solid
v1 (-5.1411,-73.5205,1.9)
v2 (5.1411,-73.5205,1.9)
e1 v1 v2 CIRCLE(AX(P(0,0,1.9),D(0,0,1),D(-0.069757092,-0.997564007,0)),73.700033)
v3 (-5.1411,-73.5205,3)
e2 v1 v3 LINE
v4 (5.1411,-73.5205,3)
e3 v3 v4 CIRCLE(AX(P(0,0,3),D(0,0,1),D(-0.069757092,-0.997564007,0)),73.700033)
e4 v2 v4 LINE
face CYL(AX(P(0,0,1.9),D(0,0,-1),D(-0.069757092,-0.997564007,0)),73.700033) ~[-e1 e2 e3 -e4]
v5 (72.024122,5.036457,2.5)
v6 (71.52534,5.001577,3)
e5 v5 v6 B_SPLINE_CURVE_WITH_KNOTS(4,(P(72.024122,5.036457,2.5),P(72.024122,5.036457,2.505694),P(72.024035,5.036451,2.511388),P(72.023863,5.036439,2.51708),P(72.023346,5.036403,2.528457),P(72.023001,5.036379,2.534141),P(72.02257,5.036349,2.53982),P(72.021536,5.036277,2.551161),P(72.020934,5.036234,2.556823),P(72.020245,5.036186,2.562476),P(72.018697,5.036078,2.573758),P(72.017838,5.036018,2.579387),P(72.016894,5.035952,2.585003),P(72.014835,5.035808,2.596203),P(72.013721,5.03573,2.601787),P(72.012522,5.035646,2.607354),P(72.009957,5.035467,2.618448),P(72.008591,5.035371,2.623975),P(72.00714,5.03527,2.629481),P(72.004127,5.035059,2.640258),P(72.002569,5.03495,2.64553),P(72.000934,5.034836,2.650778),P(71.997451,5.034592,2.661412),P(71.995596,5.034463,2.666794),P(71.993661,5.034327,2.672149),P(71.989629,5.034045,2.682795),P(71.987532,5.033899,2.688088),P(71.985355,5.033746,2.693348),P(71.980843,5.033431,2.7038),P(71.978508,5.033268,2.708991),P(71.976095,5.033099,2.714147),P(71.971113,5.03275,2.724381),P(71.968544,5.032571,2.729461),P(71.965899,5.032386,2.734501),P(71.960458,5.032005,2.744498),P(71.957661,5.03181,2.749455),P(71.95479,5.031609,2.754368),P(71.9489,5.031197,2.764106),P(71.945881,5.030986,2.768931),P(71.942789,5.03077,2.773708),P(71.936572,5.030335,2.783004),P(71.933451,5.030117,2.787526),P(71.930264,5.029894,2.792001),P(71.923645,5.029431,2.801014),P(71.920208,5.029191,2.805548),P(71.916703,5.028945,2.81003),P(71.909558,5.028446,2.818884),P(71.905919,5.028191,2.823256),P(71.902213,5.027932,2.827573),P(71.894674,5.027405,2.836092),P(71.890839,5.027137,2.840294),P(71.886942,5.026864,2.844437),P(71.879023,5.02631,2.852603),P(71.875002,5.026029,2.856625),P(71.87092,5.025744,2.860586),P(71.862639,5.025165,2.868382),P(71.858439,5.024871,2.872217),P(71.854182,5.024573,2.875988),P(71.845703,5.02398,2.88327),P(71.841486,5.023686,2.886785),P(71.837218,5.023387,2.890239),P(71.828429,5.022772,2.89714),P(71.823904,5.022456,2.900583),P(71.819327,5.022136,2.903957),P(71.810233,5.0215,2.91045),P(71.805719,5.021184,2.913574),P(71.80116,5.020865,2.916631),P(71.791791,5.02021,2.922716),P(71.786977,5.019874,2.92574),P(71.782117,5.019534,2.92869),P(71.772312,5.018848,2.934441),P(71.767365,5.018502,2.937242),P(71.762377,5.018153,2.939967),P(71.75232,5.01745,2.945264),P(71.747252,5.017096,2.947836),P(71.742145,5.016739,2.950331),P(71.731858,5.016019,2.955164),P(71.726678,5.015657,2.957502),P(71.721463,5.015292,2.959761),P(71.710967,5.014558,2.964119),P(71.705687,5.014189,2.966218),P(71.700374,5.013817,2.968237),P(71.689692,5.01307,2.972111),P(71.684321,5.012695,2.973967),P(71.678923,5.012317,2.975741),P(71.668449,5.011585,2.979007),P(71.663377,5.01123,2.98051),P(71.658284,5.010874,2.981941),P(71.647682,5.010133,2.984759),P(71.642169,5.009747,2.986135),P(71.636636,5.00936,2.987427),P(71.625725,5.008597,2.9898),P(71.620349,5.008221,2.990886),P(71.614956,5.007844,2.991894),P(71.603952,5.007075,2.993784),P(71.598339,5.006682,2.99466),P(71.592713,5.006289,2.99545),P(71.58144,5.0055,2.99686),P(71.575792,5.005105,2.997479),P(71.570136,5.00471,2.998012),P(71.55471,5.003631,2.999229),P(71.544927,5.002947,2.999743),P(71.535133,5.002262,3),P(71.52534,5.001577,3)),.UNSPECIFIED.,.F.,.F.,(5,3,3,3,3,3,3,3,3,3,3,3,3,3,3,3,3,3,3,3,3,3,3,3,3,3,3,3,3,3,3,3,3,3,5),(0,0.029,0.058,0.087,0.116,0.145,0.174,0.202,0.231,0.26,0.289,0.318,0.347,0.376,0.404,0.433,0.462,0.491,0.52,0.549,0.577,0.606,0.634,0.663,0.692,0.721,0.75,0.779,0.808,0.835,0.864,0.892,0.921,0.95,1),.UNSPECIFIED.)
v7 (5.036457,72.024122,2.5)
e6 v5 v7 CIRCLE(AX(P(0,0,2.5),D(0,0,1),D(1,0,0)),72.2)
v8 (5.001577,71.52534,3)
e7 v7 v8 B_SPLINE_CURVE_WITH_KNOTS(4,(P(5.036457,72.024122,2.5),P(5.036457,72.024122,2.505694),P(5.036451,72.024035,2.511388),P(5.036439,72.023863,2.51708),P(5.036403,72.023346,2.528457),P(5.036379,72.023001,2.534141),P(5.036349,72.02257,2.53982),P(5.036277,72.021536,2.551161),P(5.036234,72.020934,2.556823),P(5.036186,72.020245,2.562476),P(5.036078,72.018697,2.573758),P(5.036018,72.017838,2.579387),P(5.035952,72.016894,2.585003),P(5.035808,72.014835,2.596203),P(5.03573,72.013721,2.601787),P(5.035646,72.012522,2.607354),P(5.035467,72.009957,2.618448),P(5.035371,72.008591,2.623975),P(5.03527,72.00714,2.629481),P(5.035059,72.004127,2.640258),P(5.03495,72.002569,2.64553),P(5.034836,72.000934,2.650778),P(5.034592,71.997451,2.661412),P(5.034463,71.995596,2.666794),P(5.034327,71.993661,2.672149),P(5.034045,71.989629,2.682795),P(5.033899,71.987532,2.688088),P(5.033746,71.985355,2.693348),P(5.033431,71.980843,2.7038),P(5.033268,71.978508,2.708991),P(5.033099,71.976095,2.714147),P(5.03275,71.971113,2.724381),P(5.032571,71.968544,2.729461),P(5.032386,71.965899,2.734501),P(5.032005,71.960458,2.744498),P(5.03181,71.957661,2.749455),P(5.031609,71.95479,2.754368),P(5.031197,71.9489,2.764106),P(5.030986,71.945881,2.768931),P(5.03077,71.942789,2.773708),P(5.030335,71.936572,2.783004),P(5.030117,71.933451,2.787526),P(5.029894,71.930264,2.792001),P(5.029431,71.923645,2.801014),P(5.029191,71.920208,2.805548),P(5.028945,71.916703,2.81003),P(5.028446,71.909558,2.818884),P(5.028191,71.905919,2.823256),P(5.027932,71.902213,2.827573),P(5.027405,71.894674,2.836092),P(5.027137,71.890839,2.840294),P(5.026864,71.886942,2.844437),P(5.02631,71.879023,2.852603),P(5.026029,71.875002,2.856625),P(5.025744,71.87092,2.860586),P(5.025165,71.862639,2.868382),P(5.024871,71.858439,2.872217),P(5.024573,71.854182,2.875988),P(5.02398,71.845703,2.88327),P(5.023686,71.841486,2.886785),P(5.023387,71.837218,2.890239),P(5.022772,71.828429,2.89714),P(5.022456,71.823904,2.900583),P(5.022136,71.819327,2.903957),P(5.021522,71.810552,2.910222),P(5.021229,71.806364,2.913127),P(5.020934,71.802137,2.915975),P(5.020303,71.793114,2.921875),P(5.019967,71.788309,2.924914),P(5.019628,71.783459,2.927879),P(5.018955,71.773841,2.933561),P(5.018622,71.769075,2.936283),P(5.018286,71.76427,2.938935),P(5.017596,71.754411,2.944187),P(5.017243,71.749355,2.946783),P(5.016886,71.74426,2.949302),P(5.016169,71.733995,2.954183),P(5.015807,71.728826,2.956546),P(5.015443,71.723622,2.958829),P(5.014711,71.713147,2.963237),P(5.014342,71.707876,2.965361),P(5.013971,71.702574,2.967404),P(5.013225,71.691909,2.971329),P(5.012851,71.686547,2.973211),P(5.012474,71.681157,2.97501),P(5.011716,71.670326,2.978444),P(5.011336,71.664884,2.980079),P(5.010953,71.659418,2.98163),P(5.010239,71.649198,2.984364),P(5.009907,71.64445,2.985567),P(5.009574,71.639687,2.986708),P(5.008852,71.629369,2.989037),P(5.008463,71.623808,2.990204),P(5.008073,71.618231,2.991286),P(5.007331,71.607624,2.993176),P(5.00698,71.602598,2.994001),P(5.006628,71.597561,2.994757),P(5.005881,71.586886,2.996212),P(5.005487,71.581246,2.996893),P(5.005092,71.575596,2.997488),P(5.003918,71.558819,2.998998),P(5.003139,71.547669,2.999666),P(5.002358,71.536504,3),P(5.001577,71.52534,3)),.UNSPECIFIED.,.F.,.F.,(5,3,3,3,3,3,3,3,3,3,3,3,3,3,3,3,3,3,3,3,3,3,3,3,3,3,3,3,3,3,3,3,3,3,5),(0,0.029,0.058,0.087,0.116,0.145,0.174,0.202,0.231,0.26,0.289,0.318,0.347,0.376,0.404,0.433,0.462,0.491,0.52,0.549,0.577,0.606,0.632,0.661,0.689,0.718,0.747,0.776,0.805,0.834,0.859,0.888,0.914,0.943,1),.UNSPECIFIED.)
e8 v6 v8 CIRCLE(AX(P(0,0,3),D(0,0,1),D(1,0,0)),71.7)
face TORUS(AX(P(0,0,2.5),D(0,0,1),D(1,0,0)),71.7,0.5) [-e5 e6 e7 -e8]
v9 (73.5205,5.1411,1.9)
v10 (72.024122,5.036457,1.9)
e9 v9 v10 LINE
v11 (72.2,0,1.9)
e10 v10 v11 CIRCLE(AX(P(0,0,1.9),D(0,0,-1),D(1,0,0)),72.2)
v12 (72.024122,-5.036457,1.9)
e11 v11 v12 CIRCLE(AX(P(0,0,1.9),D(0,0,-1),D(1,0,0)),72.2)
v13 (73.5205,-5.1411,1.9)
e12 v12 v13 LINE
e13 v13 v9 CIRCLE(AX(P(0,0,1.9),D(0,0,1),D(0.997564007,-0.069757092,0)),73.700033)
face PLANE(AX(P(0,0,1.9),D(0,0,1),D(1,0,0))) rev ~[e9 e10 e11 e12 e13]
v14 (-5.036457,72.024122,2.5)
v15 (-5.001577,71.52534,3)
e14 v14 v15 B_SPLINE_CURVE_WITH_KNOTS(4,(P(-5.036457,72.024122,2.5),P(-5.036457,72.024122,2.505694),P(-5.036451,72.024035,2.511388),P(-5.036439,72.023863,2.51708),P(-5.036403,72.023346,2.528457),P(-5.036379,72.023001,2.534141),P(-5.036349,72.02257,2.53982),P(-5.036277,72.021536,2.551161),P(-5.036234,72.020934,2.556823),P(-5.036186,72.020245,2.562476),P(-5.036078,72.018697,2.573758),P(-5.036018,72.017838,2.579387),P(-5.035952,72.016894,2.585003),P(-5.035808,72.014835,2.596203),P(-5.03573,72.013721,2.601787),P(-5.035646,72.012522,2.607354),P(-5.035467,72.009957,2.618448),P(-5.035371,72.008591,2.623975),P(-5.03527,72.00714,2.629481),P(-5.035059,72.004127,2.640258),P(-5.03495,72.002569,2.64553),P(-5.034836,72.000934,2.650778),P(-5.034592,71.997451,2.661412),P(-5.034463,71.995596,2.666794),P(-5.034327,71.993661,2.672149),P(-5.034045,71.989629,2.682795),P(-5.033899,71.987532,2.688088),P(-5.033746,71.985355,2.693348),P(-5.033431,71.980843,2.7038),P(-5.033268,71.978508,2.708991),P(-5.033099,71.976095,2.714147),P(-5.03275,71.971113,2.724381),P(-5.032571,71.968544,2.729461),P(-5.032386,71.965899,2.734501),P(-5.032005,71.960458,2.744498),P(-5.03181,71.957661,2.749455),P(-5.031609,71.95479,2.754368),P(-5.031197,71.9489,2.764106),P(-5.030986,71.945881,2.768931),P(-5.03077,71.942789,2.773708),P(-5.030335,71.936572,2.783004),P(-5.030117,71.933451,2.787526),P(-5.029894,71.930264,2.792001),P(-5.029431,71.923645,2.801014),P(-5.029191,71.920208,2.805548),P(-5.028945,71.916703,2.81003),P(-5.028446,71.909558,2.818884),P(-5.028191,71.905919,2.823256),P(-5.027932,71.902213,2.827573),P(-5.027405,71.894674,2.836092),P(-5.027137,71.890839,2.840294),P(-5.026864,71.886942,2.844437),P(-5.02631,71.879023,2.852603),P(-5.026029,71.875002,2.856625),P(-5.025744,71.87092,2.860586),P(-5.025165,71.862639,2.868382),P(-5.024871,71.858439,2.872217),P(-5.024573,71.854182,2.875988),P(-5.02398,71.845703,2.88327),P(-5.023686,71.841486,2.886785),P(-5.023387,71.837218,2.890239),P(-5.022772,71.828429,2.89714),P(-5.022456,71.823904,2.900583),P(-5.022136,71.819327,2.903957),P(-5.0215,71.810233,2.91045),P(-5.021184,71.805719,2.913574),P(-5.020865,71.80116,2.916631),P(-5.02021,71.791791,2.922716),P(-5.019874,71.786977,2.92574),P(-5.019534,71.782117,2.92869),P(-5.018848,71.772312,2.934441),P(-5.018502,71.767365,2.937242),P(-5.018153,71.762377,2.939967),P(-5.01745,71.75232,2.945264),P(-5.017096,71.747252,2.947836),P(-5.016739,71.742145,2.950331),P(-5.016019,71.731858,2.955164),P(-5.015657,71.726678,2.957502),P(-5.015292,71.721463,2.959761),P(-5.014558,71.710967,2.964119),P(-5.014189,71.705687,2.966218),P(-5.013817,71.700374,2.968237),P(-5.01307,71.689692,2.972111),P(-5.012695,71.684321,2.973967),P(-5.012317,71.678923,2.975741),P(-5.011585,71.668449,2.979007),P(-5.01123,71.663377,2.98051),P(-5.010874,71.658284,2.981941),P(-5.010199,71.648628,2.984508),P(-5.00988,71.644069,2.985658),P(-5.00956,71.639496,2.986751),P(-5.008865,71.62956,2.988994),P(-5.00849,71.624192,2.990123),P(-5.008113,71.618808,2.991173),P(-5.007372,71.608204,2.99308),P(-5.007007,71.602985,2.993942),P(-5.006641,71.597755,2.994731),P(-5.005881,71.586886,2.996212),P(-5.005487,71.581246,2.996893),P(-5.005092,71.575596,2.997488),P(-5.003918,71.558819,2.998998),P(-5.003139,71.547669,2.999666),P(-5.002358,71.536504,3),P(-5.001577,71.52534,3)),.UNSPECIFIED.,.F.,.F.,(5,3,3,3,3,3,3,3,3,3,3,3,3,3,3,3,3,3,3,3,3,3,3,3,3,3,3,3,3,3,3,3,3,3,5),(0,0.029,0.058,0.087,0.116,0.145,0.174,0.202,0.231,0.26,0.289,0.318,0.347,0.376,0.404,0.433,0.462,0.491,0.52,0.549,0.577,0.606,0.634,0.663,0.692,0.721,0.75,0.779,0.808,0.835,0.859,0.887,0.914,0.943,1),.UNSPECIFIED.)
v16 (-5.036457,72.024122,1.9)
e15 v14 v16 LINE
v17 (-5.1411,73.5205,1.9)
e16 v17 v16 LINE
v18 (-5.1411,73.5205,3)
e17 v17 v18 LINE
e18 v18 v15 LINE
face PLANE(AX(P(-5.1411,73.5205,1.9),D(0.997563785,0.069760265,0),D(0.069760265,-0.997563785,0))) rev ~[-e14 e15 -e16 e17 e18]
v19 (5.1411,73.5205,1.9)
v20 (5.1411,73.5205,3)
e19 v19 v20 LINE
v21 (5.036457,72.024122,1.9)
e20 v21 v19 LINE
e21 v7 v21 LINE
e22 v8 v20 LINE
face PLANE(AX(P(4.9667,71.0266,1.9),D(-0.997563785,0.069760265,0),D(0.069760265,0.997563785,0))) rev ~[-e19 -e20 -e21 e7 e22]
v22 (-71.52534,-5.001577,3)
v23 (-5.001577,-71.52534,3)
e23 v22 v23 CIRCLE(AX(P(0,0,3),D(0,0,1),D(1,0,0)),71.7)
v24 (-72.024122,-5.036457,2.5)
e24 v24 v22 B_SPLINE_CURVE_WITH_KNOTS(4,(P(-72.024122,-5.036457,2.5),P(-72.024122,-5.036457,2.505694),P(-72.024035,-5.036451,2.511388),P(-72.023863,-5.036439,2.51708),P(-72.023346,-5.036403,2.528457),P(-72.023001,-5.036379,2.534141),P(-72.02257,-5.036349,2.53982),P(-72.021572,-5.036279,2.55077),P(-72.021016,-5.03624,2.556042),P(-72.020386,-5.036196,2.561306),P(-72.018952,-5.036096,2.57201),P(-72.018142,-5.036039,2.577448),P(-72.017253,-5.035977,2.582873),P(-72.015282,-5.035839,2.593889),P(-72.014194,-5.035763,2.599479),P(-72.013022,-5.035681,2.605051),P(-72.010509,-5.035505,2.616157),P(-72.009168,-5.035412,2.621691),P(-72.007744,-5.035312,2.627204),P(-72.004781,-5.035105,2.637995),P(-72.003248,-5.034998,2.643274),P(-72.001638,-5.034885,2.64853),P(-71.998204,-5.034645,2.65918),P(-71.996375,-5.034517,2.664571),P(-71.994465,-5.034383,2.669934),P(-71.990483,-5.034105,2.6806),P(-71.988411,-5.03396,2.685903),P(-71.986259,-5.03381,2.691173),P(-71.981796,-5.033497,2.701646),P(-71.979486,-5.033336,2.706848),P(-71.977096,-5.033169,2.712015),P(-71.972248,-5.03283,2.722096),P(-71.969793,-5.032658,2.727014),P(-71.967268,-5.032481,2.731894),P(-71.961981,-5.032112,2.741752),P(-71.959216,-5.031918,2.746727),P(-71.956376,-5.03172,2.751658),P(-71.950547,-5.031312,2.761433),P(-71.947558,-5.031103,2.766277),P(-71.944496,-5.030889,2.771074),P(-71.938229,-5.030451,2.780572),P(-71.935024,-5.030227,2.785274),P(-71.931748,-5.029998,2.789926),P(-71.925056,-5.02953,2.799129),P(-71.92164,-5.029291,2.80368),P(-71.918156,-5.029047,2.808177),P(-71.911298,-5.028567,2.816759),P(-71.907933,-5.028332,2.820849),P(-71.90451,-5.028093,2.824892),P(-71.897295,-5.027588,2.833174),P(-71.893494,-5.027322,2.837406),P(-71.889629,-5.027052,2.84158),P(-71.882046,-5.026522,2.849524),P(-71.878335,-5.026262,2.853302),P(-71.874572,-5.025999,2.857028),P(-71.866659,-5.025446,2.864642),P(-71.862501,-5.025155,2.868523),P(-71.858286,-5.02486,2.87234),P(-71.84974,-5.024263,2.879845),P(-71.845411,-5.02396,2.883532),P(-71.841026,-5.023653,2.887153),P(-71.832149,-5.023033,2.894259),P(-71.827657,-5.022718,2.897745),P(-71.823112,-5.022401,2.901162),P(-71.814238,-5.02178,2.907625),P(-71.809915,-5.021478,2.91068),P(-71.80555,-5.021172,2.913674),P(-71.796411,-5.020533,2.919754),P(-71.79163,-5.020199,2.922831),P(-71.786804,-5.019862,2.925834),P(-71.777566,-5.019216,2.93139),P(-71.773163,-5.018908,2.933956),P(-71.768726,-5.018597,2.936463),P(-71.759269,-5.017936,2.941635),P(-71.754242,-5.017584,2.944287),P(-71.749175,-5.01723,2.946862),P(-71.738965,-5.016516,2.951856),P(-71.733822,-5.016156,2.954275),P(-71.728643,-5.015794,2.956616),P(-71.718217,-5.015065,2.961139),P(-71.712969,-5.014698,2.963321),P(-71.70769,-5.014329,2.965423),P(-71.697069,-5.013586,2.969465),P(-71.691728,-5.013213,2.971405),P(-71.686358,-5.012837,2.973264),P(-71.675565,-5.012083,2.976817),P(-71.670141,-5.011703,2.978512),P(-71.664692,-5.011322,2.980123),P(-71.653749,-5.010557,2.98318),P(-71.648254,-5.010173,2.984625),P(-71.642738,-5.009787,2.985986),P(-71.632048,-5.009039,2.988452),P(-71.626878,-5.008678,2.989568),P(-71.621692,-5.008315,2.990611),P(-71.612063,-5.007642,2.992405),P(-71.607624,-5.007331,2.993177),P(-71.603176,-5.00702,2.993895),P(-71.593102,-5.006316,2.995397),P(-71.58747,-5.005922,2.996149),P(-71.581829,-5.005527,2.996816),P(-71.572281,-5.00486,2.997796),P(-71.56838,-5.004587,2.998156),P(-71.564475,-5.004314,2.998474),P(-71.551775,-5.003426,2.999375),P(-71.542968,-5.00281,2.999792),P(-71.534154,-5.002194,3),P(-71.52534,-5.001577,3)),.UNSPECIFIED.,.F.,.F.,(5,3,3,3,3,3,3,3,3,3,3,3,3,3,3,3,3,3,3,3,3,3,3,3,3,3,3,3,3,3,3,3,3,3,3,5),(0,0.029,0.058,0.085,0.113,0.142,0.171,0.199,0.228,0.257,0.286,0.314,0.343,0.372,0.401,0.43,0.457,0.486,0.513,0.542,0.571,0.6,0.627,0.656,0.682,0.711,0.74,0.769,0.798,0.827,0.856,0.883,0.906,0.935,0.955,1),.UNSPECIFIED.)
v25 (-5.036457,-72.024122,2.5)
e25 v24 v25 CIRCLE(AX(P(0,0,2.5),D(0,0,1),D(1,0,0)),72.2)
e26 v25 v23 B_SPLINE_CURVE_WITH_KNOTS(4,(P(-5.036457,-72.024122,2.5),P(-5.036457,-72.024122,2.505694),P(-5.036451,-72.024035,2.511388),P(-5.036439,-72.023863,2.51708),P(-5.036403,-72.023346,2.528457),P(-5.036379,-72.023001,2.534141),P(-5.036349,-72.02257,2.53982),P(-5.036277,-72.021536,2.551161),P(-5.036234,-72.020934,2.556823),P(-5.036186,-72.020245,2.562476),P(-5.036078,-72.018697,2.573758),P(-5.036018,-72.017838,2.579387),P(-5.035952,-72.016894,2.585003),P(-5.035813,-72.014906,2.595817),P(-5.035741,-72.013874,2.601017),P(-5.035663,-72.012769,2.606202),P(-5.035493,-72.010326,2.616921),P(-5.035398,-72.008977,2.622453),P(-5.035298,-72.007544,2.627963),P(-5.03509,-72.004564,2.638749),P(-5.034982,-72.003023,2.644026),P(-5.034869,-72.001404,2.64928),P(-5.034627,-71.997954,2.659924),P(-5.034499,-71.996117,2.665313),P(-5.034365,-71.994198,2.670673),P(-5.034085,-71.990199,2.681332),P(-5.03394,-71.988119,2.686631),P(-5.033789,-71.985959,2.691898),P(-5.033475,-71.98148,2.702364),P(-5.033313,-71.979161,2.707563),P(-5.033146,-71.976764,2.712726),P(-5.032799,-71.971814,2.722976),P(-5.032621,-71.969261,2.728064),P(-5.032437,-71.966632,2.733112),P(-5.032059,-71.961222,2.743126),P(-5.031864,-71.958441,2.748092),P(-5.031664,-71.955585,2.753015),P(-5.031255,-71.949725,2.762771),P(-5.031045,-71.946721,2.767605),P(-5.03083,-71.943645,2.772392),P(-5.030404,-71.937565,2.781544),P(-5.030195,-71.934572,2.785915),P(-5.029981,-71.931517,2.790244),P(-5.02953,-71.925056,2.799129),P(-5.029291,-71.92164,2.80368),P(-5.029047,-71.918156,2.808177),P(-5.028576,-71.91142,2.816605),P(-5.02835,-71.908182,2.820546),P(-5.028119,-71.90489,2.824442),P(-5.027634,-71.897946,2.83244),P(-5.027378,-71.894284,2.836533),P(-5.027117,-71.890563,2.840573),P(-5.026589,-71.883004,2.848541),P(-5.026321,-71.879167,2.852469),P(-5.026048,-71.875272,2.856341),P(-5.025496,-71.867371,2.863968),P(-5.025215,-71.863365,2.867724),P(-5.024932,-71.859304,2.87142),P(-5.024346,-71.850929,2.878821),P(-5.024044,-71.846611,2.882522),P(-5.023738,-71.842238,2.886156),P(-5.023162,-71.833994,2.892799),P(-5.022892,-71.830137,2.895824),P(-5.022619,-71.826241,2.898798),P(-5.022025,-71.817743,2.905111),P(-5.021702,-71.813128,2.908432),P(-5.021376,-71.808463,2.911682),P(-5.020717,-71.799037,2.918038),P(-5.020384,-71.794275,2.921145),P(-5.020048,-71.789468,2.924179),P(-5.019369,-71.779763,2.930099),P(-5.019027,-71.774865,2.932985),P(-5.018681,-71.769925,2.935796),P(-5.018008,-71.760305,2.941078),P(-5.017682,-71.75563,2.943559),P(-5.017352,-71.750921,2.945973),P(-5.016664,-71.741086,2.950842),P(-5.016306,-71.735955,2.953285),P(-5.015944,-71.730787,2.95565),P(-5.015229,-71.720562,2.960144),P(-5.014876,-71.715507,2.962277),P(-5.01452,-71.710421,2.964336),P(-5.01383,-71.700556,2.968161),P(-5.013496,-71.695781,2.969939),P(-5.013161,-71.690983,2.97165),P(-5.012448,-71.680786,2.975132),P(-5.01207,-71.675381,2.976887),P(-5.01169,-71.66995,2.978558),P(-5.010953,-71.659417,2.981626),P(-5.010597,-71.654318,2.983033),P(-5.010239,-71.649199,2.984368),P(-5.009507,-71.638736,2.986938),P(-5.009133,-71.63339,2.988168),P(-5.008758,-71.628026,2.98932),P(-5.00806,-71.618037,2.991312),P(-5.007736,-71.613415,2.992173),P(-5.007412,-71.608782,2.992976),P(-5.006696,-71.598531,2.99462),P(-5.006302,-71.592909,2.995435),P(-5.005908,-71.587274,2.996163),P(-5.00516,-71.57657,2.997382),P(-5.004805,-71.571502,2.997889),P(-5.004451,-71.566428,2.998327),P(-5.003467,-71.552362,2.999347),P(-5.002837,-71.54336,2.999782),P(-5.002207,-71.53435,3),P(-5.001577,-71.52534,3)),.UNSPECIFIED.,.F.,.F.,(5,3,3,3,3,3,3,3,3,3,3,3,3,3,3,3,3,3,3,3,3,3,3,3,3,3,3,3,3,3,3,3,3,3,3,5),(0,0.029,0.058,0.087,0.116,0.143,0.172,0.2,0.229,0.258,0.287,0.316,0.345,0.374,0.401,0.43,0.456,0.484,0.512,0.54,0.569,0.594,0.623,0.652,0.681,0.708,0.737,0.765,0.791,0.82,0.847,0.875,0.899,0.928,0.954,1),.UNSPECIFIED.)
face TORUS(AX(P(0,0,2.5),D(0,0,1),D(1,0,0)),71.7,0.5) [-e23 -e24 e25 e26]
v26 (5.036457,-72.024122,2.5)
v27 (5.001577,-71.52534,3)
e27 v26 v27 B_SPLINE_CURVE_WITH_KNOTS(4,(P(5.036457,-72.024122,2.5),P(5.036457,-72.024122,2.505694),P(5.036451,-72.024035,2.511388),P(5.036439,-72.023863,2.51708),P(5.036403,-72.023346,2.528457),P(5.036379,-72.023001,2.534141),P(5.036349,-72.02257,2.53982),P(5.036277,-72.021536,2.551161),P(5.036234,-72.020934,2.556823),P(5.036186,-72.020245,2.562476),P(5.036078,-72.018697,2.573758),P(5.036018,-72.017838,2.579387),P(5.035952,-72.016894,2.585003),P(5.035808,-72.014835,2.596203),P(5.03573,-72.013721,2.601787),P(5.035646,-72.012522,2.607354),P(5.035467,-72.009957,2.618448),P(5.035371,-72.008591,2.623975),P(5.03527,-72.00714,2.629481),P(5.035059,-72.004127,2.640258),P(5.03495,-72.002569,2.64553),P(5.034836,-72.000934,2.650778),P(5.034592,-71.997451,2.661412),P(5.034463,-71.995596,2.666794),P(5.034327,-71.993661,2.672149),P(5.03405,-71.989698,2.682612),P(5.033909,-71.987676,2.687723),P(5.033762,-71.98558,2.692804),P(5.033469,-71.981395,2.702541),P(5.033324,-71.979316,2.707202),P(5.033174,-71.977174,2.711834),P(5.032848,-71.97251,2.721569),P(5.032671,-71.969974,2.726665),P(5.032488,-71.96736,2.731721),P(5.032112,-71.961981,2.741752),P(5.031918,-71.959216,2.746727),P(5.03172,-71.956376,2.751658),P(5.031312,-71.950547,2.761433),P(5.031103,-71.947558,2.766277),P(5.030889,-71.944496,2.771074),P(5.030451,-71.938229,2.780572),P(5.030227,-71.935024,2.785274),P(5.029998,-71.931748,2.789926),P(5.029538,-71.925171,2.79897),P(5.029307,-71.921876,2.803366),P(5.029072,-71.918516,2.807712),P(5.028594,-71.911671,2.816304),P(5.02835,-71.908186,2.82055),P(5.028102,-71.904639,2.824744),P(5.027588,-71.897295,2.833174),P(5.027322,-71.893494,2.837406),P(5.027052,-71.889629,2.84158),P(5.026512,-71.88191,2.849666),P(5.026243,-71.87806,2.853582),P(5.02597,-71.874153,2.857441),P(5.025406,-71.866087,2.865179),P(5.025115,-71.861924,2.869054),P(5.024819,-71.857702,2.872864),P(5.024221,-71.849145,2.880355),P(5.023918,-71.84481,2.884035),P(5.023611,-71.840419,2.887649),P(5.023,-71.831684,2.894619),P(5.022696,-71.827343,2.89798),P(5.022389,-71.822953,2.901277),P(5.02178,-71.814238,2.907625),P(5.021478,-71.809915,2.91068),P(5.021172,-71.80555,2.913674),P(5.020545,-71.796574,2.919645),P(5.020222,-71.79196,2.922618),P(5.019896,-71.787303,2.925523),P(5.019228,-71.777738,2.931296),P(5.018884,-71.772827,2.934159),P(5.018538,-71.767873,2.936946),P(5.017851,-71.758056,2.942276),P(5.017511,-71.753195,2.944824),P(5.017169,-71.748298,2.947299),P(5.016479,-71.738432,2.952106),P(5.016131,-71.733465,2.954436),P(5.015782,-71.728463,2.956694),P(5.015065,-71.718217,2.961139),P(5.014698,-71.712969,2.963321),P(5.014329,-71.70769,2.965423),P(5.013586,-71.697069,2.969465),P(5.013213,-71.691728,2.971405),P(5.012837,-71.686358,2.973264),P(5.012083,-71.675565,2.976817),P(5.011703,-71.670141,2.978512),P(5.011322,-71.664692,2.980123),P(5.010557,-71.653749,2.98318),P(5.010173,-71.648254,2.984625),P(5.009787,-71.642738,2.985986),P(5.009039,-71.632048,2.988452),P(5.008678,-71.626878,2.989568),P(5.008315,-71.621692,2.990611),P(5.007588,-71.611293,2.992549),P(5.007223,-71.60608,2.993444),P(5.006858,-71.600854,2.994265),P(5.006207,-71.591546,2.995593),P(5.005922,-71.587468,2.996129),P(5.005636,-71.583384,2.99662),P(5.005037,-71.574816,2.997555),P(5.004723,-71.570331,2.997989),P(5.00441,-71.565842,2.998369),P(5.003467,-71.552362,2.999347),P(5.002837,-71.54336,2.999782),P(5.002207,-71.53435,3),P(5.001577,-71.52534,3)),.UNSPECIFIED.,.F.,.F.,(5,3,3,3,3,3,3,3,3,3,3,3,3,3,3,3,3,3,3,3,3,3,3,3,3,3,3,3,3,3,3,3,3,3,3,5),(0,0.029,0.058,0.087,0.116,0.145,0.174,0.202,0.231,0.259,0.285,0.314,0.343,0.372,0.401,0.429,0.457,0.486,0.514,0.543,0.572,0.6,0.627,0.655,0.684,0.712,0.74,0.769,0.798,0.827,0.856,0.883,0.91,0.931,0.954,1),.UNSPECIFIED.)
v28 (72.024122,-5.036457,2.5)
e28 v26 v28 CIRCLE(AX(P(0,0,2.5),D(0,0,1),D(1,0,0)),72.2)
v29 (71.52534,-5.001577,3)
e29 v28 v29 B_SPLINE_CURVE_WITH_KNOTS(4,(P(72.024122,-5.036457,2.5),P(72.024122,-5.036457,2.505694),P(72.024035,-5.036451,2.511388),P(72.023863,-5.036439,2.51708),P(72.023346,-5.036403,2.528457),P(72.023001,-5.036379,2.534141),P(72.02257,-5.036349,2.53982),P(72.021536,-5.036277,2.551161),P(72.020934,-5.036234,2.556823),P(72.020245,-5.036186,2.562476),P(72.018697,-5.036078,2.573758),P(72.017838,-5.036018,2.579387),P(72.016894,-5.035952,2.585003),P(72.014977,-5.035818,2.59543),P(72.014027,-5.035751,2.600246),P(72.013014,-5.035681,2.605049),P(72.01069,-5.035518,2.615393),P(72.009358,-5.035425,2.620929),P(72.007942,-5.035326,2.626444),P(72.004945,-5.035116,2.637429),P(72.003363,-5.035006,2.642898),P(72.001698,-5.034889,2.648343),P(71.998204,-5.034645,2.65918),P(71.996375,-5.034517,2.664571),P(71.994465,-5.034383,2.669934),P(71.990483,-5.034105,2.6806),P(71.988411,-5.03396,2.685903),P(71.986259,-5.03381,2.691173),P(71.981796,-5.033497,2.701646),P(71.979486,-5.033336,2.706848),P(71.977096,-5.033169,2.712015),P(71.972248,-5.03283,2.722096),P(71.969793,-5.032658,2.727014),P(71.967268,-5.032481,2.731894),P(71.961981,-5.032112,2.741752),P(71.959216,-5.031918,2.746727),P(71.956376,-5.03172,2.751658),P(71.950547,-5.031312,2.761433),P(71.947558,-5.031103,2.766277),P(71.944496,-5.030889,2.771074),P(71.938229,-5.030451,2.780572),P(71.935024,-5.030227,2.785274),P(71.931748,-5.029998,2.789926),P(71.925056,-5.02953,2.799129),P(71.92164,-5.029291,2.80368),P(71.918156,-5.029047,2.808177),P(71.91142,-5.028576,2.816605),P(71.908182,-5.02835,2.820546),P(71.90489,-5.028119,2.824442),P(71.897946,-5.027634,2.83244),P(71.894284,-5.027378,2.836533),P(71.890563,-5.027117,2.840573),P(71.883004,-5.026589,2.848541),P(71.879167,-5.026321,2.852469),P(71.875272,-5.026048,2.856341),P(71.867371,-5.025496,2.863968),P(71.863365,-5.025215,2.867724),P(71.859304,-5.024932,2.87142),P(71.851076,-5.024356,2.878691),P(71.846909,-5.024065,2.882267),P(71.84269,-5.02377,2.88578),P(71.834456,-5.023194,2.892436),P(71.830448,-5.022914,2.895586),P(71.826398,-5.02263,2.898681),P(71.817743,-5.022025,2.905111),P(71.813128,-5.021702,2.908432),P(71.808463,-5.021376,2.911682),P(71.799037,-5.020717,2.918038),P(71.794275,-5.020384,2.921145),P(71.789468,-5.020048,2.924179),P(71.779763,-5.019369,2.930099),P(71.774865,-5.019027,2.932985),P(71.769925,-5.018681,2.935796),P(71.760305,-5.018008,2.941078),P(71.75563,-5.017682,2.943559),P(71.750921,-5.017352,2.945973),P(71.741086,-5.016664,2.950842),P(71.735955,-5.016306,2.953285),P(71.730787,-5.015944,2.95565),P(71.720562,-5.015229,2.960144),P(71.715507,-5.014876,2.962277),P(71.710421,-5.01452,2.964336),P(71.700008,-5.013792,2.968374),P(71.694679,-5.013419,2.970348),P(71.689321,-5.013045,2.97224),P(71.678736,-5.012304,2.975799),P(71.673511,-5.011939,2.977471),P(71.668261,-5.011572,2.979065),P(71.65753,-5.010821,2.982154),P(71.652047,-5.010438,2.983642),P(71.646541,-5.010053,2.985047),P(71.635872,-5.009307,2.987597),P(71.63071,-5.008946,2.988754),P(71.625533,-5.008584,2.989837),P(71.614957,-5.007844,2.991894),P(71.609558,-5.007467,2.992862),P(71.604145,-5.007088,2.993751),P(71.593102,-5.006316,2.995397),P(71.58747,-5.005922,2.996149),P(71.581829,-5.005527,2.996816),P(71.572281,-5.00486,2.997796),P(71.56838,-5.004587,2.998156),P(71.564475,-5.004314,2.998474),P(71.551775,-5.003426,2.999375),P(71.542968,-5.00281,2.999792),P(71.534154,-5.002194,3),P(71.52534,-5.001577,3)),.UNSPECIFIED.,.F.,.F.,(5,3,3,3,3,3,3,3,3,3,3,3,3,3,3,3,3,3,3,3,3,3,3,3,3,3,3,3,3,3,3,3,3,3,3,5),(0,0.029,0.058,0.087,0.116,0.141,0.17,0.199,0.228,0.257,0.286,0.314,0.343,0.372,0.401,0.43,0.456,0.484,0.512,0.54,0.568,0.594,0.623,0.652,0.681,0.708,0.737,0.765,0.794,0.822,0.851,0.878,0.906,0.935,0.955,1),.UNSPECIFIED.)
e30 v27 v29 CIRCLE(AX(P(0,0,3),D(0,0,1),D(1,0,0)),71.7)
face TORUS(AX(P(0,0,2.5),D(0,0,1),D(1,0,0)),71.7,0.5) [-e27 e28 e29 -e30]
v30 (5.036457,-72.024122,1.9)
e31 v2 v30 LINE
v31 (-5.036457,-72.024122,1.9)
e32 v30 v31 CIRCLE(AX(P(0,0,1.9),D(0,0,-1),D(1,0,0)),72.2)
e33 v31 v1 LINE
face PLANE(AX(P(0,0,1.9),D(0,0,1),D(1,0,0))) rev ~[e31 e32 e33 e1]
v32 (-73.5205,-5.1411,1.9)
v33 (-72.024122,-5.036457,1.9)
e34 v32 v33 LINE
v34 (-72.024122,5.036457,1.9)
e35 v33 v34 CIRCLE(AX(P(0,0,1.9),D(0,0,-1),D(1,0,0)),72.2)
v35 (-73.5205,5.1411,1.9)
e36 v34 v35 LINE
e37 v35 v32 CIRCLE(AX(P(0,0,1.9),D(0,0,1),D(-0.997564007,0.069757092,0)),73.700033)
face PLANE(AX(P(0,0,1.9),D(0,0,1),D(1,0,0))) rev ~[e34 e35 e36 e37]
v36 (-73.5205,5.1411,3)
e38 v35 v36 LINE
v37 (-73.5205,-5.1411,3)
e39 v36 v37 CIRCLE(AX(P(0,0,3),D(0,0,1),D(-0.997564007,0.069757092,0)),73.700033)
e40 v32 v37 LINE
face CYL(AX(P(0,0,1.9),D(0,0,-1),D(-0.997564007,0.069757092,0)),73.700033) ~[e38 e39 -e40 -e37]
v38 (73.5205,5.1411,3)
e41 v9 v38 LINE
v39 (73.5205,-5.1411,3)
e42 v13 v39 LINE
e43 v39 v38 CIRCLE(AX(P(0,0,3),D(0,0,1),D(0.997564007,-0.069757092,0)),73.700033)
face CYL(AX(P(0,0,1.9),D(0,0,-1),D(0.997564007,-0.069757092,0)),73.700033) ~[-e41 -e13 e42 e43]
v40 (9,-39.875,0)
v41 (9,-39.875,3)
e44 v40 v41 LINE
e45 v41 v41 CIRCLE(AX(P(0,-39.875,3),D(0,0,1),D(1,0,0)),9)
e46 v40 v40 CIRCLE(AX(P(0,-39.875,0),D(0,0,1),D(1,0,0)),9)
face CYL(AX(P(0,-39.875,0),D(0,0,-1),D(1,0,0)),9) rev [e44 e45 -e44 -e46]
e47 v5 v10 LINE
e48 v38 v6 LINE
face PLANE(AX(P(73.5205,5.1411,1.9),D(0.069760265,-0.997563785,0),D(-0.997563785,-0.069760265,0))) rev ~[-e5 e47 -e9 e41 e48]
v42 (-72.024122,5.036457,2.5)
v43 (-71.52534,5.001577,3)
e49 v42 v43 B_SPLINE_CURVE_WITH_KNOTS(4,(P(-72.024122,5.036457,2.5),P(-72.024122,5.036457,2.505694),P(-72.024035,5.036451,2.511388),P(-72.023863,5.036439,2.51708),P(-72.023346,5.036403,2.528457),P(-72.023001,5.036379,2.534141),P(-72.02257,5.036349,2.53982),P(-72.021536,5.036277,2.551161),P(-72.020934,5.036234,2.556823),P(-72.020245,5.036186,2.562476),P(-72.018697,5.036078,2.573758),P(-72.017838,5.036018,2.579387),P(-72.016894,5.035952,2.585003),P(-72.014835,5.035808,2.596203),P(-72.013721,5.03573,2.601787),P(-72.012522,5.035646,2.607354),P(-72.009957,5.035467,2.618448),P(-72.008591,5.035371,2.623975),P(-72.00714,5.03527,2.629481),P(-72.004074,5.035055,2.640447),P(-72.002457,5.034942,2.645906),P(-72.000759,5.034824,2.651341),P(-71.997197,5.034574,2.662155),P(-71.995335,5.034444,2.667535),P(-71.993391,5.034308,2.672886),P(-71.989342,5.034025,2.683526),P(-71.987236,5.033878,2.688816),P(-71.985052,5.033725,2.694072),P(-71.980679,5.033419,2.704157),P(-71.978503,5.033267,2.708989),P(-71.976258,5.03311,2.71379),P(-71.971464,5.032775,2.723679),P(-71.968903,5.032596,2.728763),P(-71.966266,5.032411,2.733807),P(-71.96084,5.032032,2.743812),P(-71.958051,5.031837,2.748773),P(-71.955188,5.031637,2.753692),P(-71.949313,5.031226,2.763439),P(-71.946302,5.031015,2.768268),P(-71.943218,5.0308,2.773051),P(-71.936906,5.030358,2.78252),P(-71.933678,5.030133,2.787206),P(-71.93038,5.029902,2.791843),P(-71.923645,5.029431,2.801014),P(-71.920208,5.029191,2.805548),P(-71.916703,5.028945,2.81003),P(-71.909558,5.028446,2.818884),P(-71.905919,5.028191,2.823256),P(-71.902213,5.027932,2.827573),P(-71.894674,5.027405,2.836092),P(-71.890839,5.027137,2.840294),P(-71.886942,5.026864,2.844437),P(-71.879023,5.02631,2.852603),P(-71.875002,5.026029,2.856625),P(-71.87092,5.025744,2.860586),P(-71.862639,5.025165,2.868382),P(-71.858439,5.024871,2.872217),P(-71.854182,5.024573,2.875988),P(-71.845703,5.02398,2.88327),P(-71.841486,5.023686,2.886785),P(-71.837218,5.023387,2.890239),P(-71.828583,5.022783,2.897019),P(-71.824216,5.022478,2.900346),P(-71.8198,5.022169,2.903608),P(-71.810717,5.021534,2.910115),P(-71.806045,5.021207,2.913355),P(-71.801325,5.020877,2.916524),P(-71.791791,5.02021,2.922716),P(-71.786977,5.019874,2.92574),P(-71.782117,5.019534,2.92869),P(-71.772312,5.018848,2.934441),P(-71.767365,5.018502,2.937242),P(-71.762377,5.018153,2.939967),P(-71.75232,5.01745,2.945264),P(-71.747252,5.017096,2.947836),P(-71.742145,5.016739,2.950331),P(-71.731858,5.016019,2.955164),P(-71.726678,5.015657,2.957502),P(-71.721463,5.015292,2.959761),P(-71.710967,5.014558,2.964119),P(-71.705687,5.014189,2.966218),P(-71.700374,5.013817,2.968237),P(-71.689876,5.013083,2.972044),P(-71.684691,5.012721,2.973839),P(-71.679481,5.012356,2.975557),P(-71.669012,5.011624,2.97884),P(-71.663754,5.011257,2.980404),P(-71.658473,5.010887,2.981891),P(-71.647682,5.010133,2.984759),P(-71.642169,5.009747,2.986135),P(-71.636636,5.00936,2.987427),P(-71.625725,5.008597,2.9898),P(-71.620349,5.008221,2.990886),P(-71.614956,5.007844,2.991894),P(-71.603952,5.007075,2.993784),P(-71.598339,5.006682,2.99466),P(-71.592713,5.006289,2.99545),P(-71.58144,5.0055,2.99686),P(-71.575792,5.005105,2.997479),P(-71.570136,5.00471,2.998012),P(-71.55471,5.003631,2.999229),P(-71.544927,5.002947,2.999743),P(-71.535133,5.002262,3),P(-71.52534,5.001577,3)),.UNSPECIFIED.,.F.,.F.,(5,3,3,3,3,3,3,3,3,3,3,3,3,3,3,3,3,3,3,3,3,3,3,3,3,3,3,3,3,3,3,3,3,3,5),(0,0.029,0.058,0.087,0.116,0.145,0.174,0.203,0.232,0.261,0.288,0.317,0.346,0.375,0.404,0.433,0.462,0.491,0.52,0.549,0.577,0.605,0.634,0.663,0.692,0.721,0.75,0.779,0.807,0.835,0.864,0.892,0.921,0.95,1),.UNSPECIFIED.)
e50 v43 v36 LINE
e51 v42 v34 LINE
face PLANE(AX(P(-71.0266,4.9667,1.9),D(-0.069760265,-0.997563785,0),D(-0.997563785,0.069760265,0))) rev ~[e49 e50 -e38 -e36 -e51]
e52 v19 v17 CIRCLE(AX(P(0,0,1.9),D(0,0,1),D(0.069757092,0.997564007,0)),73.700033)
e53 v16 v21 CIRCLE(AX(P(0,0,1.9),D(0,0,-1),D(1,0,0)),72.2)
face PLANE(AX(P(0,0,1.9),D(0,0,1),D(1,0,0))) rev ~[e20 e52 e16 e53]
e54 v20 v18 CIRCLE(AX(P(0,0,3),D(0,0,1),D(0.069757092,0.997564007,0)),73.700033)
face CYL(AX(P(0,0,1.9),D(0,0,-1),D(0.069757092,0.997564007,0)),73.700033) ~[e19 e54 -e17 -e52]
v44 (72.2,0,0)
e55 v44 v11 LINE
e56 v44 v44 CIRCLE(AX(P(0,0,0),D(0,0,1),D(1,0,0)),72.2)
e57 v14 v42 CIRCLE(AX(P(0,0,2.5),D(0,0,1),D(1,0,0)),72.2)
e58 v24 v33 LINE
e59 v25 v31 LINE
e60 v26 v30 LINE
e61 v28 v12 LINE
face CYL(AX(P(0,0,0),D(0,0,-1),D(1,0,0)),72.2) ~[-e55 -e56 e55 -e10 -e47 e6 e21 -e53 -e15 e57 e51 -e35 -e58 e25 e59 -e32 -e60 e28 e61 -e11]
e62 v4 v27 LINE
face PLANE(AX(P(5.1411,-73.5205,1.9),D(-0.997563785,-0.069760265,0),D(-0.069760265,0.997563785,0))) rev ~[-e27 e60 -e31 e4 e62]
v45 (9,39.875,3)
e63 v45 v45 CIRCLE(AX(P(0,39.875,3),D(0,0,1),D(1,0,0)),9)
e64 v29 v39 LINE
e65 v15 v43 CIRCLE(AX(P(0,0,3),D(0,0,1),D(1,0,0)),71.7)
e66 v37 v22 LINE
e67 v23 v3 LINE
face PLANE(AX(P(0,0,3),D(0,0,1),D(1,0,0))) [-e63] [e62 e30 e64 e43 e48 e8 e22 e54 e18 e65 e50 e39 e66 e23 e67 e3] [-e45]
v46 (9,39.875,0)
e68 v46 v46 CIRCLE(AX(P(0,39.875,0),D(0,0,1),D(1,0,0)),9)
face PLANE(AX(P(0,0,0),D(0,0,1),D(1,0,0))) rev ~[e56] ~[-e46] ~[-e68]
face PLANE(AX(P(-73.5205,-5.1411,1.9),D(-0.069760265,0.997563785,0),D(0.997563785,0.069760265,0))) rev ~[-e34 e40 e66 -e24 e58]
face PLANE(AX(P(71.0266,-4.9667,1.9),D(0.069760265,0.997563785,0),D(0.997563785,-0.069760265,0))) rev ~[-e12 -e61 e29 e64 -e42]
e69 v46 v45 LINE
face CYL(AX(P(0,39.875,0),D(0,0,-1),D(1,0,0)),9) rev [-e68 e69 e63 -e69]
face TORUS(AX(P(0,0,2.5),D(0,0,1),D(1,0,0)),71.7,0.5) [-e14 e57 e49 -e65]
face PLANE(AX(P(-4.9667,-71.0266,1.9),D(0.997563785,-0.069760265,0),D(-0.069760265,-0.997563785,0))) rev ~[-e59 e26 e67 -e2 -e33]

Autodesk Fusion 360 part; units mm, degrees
sketch "Skizze1" plane through (0, 0, 0) normal (0, 0, 1) x (1, 0, 0)
  circle A0 centre (0, 0) radius 80
extrude "Extrusion1" add sketch "Skizze1" along normal blind 10 makes body 1
fillet "Abrundung1" radius 2 1 edges at (-74.5862, -28.9292, 10) on bodies 1
sketch "Skizze2" plane through (0, 0, 0) normal (0, 1, 0) x (1, 0, 0)
  line L0 (45, 0) -> (-5, -86.6025) construction
ref_plane "Arbeitsebene1" through (-5, 0, 86.6025) normal (-0.5, 0, 0.866) x (0, -1, 0)
sketch "Skizze3" plane through (-5, 0, 86.6025) normal (-0.5, 0, 0.866) x (0, -1, 0)
  circle A0 centre (0, 0) radius 23
  circle A1 centre (0, 0) radius 20
extrude "Extrusion5" add sketch "Skizze3" against normal blind 110 separate body contours A0 | A1 makes body 2
combine "Kombinieren1" operation add target body 1 tool bodies 2
extrude "Extrusion6" cut sketch "Skizze3" against normal blind 50 bodies 1
fillet "Abrundung2" radius 4 3 edges at (65.7846, 0, 10) (-74.5862, -28.9292, 8) (-72.7215, 28.206, 10) on bodies 1
sketch "Skizze4" plane through (-5, 0, 86.6025) normal (-0.5, 0, 0.866) x (0, -1, 0)
  circle A0 centre (0, 0) radius 15.75
extrude "Extrusion7" cut sketch "Skizze4" against normal blind 110 bodies 1
sketch "Skizze5" plane through (0, 0, 0) normal (0, 0, 1) x (1, 0, 0)
  circle A0 centre (0, 0) radius 160
extrude "Extrusion8" cut sketch "Skizze5" against normal blind 110 bodies 1
sketch "Skizze6" plane through (0, 0, 0) normal (0, 0, 1) x (1, 0, 0)
  line L0 (45, 0) -> (85, 0)
ref_plane "Arbeitsebene2" through (45, 0, 0) normal (1, 0, 0) x (0, 1, 0)
sketch "Skizze7" plane through (45, 0, 0) normal (1, 0, 0) x (0, 1, 0)
  line L0 (-4, 0) -> (-4, 1.7)
  line L1 (-4, 1.7) -> (-3.2, 3.3)
  line L2 (-3.2, 3.3) -> (-1, 5.5)
  line L3 (-1, 5.5) -> (1, 5.5)
  line L4 (1, 5.5) -> (3.2, 3.3)
  line L5 (3.2, 3.3) -> (4, 1.7)
  line L6 (4, 1.7) -> (4, 0)
  line L7 (4, 0) -> (-4, 0)
sweep "Sweeping1" cut profiles "Skizze7" path "Skizze6" along L0 section 1 bodies 1
sketch "Skizze8" plane through (0, 0, 0) normal (0, 0, 1) x (1, 0, 0)
  circle A0 centre (0, 0) radius 72.5
extrude "Extrusion9" cut sketch "Skizze8" along normal blind 3 bodies 1
sketch "Skizze9" plane through (0, 0, 0) normal (0, 0, 1) x (1, 0, 0)
  line L0 (72.2241, -6.3188) -> (73.7184, -6.4495)
  arc A0 (73.7184, -6.4495) -> (73.7184, 6.4495) centre (0, 0) ccw
  line L1 (73.7184, 6.4495) -> (72.2241, 6.3188)
  arc A1 (72.2241, -6.3188) -> (72.2241, 6.3188) centre (0, 0) ccw
  line L2 (6.3188, 72.2241) -> (6.4495, 73.7184)
  arc A2 (6.4495, 73.7184) -> (-6.4495, 73.7184) centre (0, 0) ccw
  line L3 (-6.4495, 73.7184) -> (-6.3188, 72.2241)
  arc A3 (6.3188, 72.2241) -> (-6.3188, 72.2241) centre (0, 0) ccw
  line L4 (-72.2241, 6.3188) -> (-73.7184, 6.4495)
  arc A4 (-73.7184, 6.4495) -> (-73.7184, -6.4495) centre (0, 0) ccw
  line L5 (-73.7184, -6.4495) -> (-72.2241, -6.3188)
  arc A5 (-72.2241, 6.3188) -> (-72.2241, -6.3188) centre (0, 0) ccw
  line L6 (-6.3188, -72.2241) -> (-6.4495, -73.7184)
  arc A6 (-6.4495, -73.7184) -> (6.4495, -73.7184) centre (0, 0) ccw
  line L7 (6.4495, -73.7184) -> (6.3188, -72.2241)
  arc A7 (-6.3188, -72.2241) -> (6.3188, -72.2241) centre (0, 0) ccw
extrude "Extrusion10" cut sketch "Skizze9" along normal blind 3 bodies 1
sketch "Skizze10" plane through (0, 0, 0) normal (0, 0, 1) x (1, 0, 0)
  line L0 (72.2241, -6.3188) -> (73.7184, -6.4495)
  arc A0 (73.7184, -6.4495) -> (69.5373, 25.3095) centre (0, 0) ccw
  line L1 (69.5373, 25.3095) -> (68.1277, 24.7965)
  arc A1 (72.2241, -6.3188) -> (68.1277, 24.7965) centre (0, 0) ccw
  line L2 (6.3188, 72.2241) -> (6.4495, 73.7184)
  arc A2 (6.4495, 73.7184) -> (-25.3095, 69.5373) centre (0, 0) ccw
  line L3 (-25.3095, 69.5373) -> (-24.7965, 68.1277)
  arc A3 (6.3188, 72.2241) -> (-24.7965, 68.1277) centre (0, 0) ccw
  line L4 (-72.2241, 6.3188) -> (-73.7184, 6.4495)
  arc A4 (-73.7184, 6.4495) -> (-69.5373, -25.3095) centre (0, 0) ccw
  line L5 (-69.5373, -25.3095) -> (-68.1277, -24.7965)
  arc A5 (-72.2241, 6.3188) -> (-68.1277, -24.7965) centre (0, 0) ccw
  line L6 (-6.3188, -72.2241) -> (-6.4495, -73.7184)
  arc A6 (-6.4495, -73.7184) -> (25.3095, -69.5373) centre (0, 0) ccw
  line L7 (25.3095, -69.5373) -> (24.7965, -68.1277)
  arc A7 (-6.3188, -72.2241) -> (24.7965, -68.1277) centre (0, 0) ccw
extrude "Extrusion11" cut sketch "Skizze10" along normal blind 1.25 from surface at 1.75 bodies 1
sketch "Skizze11" plane through (0, 0, 0) normal (0, 0, 1) x (1, 0, 0)
  circle A0 centre (0, 0) radius 72.2
extrude "Extrusion12" add sketch "Skizze11" along normal blind 3 separate body makes body 3
fillet "Abrundung3" radius 0.5 1 edges at (-67.314, -26.1086, 3) on bodies 3
sketch "Skizze12" plane through (0, 0, 0) normal (0, 0, 1) x (1, 0, 0)
  line L0 (71.0266, -4.9667) -> (73.5205, -5.1411)
  arc A0 (73.5205, -5.1411) -> (73.5205, 5.1411) centre (0, 0) ccw
  line L1 (73.5205, 5.1411) -> (71.0266, 4.9667)
  arc A1 (71.0266, -4.9667) -> (71.0266, 4.9667) centre (0, 0) ccw
  line L2 (4.9667, 71.0266) -> (5.1411, 73.5205)
  arc A2 (5.1411, 73.5205) -> (-5.1411, 73.5205) centre (0, 0) ccw
  line L3 (-5.1411, 73.5205) -> (-4.9667, 71.0266)
  arc A3 (4.9667, 71.0266) -> (-4.9667, 71.0266) centre (0, 0) ccw
  line L4 (-71.0266, 4.9667) -> (-73.5205, 5.1411)
  arc A4 (-73.5205, 5.1411) -> (-73.5205, -5.1411) centre (0, 0) ccw
  line L5 (-73.5205, -5.1411) -> (-71.0266, -4.9667)
  arc A5 (-71.0266, 4.9667) -> (-71.0266, -4.9667) centre (0, 0) ccw
  line L6 (-4.9667, -71.0266) -> (-5.1411, -73.5205)
  arc A6 (-5.1411, -73.5205) -> (5.1411, -73.5205) centre (0, 0) ccw
  line L7 (5.1411, -73.5205) -> (4.9667, -71.0266)
  arc A7 (-4.9667, -71.0266) -> (4.9667, -71.0266) centre (0, 0) ccw
extrude "Extrusion13" add sketch "Skizze12" along normal blind 1.1 from surface at 1.9 separate body makes body 4 at (72.7424, 3.9409, 1.9) makes body 5 at (-72.7424, 3.9409, 1.9) makes body 6 at (-3.9409, 72.7424, 1.9) makes body 7 at (0.5522, -72.8469, 1.9)
combine "Kombinieren2" operation add target body 3 tool bodies 4 5 6 7
sketch "Skizze13" plane through (0, 0, 0) normal (0, 0, 1) x (1, 0, 0)
  circle A0 centre (0, 39.875) radius 9
  circle A1 centre (0, -39.875) radius 9
extrude "Extrusion14" cut sketch "Skizze13" along normal blind 3 bodies 3
delete_body "Körper entfernen1" bodies 1
equation "base_plate_diameter = 160 mm"
equation "base_plate_height = 10 mm"
equation "base_plate_rounding = 2 mm"
equation "leg_outer_diameter = 46 mm"
equation "ring_inner_diameter = 40 mm"
equation "ring_extrude_depth = 50 mm"
equation "hole_inner_diameter = 31.5 mm"
equation "leg_length = 100 mm"
equation "leg_angle = 120 deg"
equation "leg_offset = 45 mm"
equation "leg_plate_rounding = 4 mm"
equation "cable_channel_width = 8 mm"
equation "cable_channel_depth = 5.5 mm"
equation "cable_channel_vertical_height = 2.5 mm"
equation "cable_channel_edge_chamfer = 0.8 mm"
equation "cover_plate_diameter = 145 mm"
equation "cover_plate_thickness = 3 mm"
equation "finger_grip_diameter = 18 mm"
equation "finger_grip_depth = 1.5 mm"
equation "clamp_recess_width = 22 mm"
equation "clamp_recess_length = 12 mm"
equation "clamp_recess_depth = 2.5 mm"
equation "strain_relief_screw_diameter = 2.6 mm"
equation "strain_relief_screw_depth = 6 mm"
equation "d25 = base_plate_height"
equation "d28 = base_plate_rounding"
equation "d41 = leg_plate_rounding"
equation "d53 = cover_plate_thickness"
equation "d55 = cover_plate_thickness"
equation "d60 = cover_plate_thickness"
equation "d67 = cover_plate_thickness"
